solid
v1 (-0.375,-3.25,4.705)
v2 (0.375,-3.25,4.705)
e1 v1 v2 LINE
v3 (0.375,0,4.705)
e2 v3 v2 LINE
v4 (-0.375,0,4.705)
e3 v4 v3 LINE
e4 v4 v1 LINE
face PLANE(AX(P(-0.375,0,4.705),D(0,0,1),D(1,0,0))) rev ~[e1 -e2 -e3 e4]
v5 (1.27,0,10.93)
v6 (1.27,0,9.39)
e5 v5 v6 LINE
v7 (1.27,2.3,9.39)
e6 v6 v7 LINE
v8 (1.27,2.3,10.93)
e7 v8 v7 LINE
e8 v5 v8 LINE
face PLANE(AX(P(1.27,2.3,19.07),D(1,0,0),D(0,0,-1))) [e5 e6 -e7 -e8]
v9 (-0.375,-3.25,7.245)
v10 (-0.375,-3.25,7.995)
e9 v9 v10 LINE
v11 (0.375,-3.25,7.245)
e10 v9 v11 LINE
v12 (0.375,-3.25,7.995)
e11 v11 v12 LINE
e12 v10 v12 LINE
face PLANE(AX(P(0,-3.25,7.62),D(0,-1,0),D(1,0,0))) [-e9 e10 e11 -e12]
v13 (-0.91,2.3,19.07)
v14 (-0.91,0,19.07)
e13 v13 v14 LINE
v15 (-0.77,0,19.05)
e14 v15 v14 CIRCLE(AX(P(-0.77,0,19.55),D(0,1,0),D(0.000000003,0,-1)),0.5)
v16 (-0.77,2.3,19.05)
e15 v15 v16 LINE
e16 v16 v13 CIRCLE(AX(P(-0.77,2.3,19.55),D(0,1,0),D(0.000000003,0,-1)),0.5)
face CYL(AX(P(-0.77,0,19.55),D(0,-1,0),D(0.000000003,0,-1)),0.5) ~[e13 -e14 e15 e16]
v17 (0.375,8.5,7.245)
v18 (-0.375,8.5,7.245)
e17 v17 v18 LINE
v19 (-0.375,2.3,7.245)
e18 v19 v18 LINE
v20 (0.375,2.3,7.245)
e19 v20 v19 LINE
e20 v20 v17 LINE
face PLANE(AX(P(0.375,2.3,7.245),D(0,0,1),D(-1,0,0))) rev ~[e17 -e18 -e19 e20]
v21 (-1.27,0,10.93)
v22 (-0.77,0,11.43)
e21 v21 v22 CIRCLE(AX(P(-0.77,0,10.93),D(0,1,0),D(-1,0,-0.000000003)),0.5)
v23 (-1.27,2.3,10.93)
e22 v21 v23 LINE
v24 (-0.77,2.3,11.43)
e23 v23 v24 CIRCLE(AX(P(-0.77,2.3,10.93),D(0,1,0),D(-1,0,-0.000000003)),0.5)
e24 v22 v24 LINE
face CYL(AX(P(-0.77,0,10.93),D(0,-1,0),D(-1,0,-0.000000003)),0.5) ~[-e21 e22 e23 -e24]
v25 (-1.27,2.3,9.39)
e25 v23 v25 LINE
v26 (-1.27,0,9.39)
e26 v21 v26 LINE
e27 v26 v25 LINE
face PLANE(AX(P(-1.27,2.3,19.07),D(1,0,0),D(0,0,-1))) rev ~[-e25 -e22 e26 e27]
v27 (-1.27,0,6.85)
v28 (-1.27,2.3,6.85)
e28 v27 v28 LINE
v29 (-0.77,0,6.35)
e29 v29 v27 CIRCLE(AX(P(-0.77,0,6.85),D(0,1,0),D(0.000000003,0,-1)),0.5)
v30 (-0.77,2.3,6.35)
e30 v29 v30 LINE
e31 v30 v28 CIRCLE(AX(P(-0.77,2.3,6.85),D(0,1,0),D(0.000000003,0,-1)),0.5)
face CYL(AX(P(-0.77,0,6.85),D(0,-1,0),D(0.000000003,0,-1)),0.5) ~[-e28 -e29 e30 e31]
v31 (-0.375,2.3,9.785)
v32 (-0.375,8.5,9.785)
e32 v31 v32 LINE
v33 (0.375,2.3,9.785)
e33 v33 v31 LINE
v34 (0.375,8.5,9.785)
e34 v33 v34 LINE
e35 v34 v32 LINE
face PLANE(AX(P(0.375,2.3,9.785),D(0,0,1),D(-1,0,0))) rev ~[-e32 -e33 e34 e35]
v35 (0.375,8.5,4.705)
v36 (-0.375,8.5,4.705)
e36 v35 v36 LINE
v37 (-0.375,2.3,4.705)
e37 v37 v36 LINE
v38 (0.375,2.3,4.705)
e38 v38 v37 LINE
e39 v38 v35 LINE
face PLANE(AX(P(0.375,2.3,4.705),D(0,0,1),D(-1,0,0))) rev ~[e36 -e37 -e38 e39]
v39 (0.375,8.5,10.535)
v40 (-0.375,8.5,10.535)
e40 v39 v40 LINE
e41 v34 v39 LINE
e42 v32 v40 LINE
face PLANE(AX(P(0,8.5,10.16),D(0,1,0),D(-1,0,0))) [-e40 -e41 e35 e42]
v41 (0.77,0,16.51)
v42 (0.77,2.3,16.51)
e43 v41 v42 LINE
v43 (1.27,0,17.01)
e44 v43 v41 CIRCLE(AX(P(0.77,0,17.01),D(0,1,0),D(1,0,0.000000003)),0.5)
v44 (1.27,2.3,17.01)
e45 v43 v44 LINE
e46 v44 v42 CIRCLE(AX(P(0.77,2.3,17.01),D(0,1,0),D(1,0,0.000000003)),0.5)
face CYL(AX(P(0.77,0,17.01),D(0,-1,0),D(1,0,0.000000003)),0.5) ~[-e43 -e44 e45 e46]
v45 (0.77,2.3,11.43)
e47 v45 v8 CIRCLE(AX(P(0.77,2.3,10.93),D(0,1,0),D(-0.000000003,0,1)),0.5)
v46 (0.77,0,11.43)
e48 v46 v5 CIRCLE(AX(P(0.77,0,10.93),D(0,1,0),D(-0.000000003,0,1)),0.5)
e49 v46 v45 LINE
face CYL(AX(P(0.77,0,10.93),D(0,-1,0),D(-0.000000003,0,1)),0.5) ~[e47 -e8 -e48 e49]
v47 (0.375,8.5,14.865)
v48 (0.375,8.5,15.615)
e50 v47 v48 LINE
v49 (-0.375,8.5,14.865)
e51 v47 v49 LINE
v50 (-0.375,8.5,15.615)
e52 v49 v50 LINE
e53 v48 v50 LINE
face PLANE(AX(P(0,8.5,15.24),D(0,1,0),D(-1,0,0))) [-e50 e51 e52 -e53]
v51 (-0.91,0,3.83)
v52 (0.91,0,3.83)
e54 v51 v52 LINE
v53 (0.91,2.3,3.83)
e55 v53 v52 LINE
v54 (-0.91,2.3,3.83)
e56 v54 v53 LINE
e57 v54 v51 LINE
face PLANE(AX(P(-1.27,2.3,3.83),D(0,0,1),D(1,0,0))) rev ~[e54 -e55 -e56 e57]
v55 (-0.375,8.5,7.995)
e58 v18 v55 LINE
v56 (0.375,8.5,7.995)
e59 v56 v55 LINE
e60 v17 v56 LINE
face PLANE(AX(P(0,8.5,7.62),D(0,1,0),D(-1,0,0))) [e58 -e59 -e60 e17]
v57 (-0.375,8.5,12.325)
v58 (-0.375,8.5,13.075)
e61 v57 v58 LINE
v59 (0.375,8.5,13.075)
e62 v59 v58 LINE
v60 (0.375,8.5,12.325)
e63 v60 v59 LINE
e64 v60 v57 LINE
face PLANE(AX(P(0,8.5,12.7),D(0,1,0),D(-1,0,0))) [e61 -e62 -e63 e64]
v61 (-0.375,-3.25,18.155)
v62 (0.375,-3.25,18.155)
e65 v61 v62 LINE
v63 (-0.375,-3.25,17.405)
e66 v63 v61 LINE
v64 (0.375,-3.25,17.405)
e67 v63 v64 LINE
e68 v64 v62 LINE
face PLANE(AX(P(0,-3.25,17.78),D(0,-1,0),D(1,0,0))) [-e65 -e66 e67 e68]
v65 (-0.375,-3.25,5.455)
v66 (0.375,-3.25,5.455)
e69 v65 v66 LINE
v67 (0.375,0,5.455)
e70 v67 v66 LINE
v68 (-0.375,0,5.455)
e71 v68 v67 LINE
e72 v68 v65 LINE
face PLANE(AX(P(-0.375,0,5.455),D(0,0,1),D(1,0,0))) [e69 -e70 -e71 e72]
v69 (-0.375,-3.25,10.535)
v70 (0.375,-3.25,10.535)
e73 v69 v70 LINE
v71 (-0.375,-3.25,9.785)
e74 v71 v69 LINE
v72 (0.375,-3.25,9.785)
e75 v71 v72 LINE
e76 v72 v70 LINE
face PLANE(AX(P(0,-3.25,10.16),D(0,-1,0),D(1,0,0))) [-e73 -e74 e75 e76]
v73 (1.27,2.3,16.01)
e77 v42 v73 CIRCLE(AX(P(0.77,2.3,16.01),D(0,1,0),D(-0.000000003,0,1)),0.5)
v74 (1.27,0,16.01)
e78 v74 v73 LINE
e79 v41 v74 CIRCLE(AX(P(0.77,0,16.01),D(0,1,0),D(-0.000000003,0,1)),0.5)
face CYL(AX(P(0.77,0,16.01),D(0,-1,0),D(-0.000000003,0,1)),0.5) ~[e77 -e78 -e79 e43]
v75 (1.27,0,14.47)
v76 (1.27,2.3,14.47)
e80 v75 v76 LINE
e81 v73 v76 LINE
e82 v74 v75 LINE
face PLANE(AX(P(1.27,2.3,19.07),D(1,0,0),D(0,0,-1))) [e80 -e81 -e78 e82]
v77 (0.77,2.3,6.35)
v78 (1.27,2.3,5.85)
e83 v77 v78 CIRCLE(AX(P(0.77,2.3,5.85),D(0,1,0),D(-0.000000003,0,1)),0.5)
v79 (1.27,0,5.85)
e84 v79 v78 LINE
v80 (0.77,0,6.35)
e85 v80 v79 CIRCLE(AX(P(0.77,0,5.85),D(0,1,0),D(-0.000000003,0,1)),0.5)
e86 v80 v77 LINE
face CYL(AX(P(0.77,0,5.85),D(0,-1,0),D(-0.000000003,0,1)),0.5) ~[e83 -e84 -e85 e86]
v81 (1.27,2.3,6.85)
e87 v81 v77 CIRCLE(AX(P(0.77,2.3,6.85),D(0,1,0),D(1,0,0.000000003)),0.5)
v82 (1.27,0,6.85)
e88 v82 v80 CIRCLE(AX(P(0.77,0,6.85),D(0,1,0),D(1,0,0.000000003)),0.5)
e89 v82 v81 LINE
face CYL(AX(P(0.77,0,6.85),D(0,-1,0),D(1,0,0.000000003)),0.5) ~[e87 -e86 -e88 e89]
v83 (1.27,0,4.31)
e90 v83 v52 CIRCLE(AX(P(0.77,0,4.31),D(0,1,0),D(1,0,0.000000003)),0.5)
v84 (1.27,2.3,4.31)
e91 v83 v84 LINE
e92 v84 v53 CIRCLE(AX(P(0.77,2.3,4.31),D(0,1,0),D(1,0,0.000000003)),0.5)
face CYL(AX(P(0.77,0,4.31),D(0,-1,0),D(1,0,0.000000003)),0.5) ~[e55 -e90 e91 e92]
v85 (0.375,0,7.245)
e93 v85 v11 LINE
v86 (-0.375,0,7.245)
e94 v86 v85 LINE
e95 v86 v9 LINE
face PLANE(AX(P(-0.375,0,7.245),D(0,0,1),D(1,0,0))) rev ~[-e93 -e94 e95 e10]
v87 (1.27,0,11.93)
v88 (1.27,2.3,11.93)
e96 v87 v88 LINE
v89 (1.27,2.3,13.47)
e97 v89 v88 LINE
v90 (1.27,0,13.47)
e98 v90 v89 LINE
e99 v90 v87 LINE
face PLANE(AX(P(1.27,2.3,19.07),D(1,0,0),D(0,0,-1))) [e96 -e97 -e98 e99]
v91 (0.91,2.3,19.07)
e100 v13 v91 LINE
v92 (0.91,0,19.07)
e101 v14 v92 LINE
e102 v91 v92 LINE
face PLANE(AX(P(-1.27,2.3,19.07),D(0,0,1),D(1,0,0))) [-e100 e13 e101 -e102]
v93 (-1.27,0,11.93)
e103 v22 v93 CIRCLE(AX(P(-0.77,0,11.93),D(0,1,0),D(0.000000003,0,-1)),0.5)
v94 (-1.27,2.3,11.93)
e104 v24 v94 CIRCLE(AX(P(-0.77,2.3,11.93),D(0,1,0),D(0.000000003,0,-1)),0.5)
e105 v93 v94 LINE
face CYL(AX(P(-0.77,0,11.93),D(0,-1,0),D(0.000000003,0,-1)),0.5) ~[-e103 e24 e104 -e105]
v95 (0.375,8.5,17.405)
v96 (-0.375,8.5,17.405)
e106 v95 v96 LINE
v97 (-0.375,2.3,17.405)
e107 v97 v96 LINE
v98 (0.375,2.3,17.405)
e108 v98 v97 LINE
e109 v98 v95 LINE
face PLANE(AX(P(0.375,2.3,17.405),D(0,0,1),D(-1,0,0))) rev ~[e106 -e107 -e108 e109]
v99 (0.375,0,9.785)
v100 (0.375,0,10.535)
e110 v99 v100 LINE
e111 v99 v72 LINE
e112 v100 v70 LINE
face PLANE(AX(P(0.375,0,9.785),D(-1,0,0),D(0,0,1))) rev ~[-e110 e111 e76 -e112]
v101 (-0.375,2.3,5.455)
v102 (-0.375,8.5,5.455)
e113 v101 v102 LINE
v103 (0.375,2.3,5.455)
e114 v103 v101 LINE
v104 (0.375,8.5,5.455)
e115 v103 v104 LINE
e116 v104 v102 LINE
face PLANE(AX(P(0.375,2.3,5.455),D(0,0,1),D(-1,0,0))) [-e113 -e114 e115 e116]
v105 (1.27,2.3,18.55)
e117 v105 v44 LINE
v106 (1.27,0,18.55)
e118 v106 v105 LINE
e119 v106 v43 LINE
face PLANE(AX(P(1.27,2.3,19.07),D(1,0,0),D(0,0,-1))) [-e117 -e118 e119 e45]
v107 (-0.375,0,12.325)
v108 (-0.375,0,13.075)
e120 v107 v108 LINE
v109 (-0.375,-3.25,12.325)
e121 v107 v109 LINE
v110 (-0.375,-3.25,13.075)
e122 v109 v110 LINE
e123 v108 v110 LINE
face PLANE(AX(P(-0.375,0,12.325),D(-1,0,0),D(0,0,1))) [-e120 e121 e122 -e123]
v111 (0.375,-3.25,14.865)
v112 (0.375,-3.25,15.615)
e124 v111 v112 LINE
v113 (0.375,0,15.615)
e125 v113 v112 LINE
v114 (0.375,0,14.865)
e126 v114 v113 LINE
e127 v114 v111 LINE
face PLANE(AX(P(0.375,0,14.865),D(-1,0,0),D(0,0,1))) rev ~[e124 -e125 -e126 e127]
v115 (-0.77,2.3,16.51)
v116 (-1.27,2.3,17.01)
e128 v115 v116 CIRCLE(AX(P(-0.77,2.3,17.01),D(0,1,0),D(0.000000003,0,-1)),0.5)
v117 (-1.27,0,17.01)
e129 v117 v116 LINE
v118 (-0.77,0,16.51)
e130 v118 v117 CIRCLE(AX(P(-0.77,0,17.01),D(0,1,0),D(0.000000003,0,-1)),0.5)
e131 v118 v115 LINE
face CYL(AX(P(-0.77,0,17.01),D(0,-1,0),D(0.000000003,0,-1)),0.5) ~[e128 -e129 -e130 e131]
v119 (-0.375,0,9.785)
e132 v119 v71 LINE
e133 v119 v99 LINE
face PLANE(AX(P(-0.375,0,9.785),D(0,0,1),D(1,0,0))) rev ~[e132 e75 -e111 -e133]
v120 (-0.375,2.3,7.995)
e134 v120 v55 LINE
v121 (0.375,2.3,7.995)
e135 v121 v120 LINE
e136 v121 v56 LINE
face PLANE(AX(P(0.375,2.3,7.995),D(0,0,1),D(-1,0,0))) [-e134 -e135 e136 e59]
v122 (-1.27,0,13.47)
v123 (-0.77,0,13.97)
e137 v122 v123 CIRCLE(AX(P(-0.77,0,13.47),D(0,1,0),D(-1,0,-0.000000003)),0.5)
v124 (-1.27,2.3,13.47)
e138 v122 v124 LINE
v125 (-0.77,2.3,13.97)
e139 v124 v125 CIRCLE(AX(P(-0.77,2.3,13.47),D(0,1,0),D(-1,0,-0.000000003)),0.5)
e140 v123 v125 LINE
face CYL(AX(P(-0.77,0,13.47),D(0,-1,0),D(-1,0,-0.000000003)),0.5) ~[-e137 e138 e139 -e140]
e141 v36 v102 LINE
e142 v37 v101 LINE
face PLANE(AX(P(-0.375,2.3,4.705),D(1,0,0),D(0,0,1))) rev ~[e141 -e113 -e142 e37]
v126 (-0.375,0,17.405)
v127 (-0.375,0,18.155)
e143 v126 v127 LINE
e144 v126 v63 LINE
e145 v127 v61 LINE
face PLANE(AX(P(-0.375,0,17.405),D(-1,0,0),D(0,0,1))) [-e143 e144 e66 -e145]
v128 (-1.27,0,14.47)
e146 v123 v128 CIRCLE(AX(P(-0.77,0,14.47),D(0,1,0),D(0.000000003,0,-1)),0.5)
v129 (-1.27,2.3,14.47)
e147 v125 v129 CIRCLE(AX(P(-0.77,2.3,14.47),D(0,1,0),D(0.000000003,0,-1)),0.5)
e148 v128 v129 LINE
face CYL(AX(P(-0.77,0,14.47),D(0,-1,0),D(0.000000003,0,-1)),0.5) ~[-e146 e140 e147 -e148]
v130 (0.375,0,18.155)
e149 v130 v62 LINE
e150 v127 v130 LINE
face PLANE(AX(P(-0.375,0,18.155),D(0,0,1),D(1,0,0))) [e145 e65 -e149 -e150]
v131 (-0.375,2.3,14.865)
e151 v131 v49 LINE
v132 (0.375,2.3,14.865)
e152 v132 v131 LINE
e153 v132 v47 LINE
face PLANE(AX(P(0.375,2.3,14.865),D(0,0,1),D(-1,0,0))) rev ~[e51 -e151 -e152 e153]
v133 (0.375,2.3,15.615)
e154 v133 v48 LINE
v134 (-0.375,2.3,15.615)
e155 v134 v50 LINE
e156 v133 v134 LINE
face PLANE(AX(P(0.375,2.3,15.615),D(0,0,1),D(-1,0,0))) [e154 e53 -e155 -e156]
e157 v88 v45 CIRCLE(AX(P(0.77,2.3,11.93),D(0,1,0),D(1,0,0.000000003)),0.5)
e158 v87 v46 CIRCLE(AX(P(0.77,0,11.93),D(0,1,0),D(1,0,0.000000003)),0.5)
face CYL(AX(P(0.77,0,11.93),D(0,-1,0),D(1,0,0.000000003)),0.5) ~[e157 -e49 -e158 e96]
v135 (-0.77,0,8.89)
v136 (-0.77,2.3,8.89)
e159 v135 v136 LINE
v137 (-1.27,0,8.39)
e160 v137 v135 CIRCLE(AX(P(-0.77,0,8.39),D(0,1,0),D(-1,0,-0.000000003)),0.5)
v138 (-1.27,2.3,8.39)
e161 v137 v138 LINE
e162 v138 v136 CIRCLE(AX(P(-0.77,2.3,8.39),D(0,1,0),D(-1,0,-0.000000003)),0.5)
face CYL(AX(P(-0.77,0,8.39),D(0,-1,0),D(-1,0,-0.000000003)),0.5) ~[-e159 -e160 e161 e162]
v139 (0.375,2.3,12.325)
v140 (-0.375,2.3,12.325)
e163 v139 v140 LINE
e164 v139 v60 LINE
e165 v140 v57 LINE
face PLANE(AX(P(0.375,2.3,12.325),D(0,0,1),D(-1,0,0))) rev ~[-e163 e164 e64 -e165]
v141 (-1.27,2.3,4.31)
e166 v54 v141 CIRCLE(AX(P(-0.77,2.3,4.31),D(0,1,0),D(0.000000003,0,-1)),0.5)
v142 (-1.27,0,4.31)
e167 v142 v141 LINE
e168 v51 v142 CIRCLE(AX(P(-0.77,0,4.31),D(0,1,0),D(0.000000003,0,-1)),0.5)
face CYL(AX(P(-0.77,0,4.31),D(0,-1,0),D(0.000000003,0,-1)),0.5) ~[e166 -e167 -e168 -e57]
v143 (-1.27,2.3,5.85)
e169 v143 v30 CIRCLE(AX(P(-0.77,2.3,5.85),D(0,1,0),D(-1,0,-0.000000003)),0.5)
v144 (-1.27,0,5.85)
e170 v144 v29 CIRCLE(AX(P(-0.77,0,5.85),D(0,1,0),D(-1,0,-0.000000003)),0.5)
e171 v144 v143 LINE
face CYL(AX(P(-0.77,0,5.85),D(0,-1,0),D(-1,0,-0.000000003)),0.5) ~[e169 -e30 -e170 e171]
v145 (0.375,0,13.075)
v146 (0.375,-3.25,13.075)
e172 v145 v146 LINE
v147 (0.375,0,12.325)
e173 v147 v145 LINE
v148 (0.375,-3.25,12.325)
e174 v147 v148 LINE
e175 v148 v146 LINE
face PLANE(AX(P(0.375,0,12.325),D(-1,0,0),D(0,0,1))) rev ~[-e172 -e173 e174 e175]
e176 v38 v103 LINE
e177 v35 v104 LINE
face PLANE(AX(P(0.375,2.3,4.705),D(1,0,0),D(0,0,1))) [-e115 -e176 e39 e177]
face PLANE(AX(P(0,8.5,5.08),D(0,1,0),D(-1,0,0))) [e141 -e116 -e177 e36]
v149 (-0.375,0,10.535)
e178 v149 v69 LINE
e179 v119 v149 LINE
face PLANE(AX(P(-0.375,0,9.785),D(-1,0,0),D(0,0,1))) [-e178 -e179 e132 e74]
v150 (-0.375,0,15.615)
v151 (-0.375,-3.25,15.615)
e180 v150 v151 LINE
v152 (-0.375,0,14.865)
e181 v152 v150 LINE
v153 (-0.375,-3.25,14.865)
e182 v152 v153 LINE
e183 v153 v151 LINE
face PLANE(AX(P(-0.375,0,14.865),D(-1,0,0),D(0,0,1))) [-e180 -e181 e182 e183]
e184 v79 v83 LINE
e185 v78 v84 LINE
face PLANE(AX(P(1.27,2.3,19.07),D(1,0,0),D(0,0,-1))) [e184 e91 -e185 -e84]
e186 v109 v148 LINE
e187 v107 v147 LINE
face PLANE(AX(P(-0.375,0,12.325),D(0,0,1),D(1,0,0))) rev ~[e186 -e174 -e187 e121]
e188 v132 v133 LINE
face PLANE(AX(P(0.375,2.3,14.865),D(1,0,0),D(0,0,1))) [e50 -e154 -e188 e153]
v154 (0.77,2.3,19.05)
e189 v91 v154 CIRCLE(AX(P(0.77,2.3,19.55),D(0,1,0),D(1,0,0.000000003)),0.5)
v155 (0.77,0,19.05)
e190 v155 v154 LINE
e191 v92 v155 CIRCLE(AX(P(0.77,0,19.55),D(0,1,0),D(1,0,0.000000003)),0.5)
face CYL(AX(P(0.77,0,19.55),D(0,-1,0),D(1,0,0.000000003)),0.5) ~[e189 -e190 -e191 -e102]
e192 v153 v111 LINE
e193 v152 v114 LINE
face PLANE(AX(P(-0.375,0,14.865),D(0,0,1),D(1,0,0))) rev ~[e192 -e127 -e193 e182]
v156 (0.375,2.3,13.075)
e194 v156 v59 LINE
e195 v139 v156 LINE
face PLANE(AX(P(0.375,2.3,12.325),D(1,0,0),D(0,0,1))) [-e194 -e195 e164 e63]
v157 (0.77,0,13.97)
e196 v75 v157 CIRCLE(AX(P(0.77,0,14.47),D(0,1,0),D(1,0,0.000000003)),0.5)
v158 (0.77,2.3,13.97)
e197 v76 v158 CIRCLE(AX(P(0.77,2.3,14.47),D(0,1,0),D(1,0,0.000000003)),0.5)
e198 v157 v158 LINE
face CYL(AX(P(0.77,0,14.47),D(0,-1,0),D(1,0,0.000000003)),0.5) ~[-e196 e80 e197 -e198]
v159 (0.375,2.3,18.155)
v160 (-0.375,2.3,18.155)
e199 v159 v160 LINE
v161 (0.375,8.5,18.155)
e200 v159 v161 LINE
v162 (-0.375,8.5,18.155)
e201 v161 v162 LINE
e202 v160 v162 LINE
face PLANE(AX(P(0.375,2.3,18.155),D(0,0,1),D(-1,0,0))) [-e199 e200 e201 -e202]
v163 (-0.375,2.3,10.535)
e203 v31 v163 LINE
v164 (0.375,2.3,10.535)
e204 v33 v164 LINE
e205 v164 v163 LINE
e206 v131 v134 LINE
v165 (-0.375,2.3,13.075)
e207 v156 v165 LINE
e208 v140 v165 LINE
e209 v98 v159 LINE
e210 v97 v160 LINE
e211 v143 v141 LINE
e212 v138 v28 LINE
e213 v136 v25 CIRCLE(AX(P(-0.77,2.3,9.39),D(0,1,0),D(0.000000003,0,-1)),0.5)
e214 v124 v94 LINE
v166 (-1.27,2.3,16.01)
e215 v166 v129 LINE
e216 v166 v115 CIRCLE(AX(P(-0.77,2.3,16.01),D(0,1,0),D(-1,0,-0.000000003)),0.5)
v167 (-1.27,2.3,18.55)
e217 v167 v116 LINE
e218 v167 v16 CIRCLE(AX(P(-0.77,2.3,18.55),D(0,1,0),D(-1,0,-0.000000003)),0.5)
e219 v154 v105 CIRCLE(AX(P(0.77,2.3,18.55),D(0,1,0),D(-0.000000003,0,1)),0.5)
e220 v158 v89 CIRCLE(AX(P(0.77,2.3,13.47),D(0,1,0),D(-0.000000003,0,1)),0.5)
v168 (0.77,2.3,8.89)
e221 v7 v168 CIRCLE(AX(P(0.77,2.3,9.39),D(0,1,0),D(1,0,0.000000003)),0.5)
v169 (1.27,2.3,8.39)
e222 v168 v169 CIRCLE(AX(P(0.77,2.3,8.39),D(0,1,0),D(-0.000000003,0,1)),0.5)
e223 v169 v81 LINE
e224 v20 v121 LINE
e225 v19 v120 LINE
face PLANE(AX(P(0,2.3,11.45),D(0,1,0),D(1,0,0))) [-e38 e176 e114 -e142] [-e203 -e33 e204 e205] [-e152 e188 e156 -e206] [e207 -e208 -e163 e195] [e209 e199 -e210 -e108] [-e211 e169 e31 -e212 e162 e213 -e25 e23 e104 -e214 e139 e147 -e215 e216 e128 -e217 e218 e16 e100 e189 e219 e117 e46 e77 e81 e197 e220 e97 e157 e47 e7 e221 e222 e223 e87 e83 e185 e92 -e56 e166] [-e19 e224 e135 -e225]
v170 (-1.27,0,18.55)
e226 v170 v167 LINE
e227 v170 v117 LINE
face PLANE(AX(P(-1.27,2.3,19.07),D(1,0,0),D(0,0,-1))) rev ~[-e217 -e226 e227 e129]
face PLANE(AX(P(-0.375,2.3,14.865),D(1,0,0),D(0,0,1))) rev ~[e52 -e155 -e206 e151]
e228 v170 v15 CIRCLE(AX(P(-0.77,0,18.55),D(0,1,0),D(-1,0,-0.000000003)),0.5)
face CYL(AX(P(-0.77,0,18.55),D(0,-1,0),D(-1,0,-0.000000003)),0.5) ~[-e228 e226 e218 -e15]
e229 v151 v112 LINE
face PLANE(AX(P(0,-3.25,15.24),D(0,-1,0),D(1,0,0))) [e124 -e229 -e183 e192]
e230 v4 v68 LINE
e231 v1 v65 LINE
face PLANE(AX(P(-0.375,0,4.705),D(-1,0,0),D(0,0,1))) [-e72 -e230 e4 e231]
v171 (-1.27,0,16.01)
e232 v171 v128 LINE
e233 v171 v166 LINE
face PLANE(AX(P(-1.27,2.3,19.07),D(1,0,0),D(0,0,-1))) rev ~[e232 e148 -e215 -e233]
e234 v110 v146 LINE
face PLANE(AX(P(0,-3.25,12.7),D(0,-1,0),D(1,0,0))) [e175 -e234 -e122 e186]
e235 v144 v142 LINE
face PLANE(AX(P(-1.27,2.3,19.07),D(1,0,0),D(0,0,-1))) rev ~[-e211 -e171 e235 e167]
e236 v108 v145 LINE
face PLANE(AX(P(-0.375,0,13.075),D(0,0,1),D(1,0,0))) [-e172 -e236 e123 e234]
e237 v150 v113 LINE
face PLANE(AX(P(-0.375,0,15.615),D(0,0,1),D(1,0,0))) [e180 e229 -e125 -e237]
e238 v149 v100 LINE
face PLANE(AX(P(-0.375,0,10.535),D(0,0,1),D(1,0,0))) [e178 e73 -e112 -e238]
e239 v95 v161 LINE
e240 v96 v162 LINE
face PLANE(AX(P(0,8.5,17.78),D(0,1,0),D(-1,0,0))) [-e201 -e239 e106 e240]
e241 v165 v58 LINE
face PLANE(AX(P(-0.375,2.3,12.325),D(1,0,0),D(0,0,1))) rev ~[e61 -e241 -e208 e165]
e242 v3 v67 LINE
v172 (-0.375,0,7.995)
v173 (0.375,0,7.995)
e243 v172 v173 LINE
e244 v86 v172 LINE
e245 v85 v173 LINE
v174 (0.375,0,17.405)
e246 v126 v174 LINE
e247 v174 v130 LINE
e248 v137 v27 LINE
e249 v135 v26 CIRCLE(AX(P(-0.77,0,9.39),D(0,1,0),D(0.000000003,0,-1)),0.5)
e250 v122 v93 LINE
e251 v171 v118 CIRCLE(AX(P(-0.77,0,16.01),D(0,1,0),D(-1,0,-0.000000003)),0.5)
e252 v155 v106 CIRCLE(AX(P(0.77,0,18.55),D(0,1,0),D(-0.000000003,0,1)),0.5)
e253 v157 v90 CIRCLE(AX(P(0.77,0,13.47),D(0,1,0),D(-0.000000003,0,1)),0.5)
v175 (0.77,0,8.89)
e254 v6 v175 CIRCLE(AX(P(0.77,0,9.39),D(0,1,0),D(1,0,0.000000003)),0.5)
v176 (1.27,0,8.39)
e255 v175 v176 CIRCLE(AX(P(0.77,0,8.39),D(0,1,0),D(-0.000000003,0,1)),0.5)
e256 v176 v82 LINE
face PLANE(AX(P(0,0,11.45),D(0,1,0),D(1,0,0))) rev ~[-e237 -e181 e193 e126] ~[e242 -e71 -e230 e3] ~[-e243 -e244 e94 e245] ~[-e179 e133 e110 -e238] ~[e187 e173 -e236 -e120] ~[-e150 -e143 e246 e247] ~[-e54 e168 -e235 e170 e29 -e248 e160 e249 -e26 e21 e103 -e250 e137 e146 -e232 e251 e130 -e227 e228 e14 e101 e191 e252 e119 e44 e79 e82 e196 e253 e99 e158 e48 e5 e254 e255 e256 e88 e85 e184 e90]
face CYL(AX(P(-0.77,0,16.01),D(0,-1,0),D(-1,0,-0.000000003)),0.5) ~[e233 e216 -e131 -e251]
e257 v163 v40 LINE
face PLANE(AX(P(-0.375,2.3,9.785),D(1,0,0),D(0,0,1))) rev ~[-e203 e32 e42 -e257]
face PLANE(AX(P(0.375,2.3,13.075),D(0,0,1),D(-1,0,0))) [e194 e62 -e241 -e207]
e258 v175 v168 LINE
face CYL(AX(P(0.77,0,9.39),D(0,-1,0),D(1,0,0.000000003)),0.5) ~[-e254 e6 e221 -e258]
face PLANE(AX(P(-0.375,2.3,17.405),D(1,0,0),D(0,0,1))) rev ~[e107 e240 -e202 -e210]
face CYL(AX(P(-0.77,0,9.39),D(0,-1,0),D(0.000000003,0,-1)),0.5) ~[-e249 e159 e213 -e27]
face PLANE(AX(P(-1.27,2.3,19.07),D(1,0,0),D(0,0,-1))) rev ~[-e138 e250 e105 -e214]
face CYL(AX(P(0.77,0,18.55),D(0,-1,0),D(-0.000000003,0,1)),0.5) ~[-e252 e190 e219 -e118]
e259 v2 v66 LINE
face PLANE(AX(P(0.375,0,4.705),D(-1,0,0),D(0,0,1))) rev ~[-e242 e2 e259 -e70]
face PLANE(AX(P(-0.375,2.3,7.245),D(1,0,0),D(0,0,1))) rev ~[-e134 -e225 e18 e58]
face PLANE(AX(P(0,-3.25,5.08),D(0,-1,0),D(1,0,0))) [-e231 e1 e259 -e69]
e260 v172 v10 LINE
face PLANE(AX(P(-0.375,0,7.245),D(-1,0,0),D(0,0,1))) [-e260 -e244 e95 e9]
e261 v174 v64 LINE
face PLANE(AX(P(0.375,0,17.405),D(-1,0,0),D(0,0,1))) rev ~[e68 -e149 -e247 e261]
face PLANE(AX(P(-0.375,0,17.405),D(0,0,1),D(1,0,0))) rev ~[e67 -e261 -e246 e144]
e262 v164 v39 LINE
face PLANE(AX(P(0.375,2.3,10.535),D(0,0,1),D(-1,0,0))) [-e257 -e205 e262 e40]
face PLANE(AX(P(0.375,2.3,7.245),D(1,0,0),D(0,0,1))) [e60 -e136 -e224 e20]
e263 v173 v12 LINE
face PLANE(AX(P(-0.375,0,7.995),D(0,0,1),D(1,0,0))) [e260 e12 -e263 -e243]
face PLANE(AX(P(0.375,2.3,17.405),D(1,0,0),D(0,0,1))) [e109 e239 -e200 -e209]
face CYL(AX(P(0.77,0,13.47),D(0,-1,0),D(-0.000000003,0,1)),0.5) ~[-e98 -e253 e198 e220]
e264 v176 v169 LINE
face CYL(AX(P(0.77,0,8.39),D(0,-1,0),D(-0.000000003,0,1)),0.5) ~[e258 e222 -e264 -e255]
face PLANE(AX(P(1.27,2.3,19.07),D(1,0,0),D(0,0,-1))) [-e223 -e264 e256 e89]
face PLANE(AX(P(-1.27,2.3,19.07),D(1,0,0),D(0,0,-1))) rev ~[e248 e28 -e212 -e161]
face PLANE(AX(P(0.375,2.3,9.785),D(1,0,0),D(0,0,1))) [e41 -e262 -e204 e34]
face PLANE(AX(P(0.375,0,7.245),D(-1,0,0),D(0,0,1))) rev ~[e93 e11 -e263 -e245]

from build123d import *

# Parameters (mm, degrees)
CROQUIS1_W               = 2.54
CROQUIS1_H               = 15.24
SALIENTE_EXTRUIR1_DEPTH  = 2.3
CORTAR_EXTRUIR4_DEPTH    = 2.3
CORTAR_EXTRUIR5_DEPTH    = 2.3
CORTAR_EXTRUIR6_DEPTH    = 2.3
CORTAR_EXTRUIR7_DEPTH    = 2.3
CORTAR_EXTRUIR8_DEPTH    = 2.3
CORTAR_EXTRUIR9_DEPTH    = 2.3
CORTAR_EXTRUIR10_DEPTH   = 2.3
CORTAR_EXTRUIR13_DEPTH   = 2.3
CORTAR_EXTRUIR14_DEPTH   = 2.3
CORTAR_EXTRUIR15_DEPTH   = 2.3
CORTAR_EXTRUIR16_DEPTH   = 2.3
CORTAR_EXTRUIR17_DEPTH   = 2.3
CORTAR_EXTRUIR18_DEPTH   = 2.3
CORTAR_EXTRUIR19_DEPTH   = 2.3
CROQUIS27_W              = 0.75
CROQUIS27_H              = 0.75
SALIENTE_EXTRUIR5_DEPTH  = 6.2
CROQUIS28_W              = 0.75
CROQUIS28_H              = 0.75
SALIENTE_EXTRUIR6_DEPTH  = 6.2
CROQUIS29_W              = 0.75
CROQUIS29_H              = 0.75
SALIENTE_EXTRUIR7_DEPTH  = 6.2
CROQUIS30_W              = 0.75
CROQUIS30_H              = 0.75
SALIENTE_EXTRUIR8_DEPTH  = 6.2
CROQUIS31_W              = 0.75
CROQUIS31_H              = 0.75
SALIENTE_EXTRUIR9_DEPTH  = 6.2
CROQUIS32_W              = 0.75
CROQUIS32_H              = 0.75
SALIENTE_EXTRUIR10_DEPTH = 6.2
CROQUIS38_W              = 0.75
CROQUIS38_H              = 0.75
SALIENTE_EXTRUIR16_DEPTH = 3.25
CROQUIS39_W              = 0.75
CROQUIS39_H              = 0.75
SALIENTE_EXTRUIR17_DEPTH = 3.25
CROQUIS40_W              = 0.75
CROQUIS40_H              = 0.75
SALIENTE_EXTRUIR18_DEPTH = 3.25
CROQUIS41_W              = 0.75
CROQUIS41_H              = 0.75
SALIENTE_EXTRUIR19_DEPTH = 3.25
CROQUIS42_W              = 0.75
CROQUIS42_H              = 0.75
SALIENTE_EXTRUIR20_DEPTH = 3.25
CROQUIS43_W              = 0.75
CROQUIS43_H              = 0.75
SALIENTE_EXTRUIR21_DEPTH = 3.25


with BuildPart() as part:
    # Croquis1 → Saliente-Extruir1 (new body)
    with BuildSketch(Plane(origin=(0, 2.3, 0), x_dir=(1, 0, 0), z_dir=(0, 1, 0))):
        with Locations((0, -11.45)):
            Rectangle(CROQUIS1_W, CROQUIS1_H)
    extrude(amount=-SALIENTE_EXTRUIR1_DEPTH)

    # Croquis5 → Cortar-Extruir4 (cut)
    with BuildSketch(Plane.XZ):
        with BuildLine():
            Line((1.27, 18.55), (1.27, 19.55))
            ThreePointArc((1.27, 19.55), (1.123553391, 19.196446609), (0.77, 19.05))
            ThreePointArc((0.77, 19.05), (1.123553391, 18.903553391), (1.27, 18.55))
        make_face()
    extrude(amount=-CORTAR_EXTRUIR4_DEPTH, mode=Mode.SUBTRACT)

    # Croquis6 → Cortar-Extruir5 (cut)
    with BuildSketch(Plane.XZ):
        with BuildLine():
            Line((1.27, 16.01), (1.27, 17.01))
            ThreePointArc((1.27, 17.01), (1.123553391, 16.656446609), (0.77, 16.51))
            ThreePointArc((0.77, 16.51), (1.123553391, 16.363553391), (1.27, 16.01))
        make_face()
    extrude(amount=-CORTAR_EXTRUIR5_DEPTH, mode=Mode.SUBTRACT)

    # Croquis7 → Cortar-Extruir6 (cut)
    with BuildSketch(Plane.XZ):
        with BuildLine():
            Line((1.27, 13.47), (1.27, 14.47))
            ThreePointArc((1.27, 14.47), (1.123553391, 14.116446609), (0.77, 13.97))
            ThreePointArc((0.77, 13.97), (1.123553391, 13.823553391), (1.27, 13.47))
        make_face()
    extrude(amount=-CORTAR_EXTRUIR6_DEPTH, mode=Mode.SUBTRACT)

    # Croquis8 → Cortar-Extruir7 (cut)
    with BuildSketch(Plane.XZ):
        with BuildLine():
            Line((1.27, 10.93), (1.27, 11.93))
            ThreePointArc((1.27, 11.93), (1.123553391, 11.576446609), (0.77, 11.43))
            ThreePointArc((0.77, 11.43), (1.123553391, 11.283553391), (1.27, 10.93))
        make_face()
    extrude(amount=-CORTAR_EXTRUIR7_DEPTH, mode=Mode.SUBTRACT)

    # Croquis9 → Cortar-Extruir8 (cut)
    with BuildSketch(Plane.XZ):
        with BuildLine():
            Line((1.27, 8.39), (1.27, 9.39))
            ThreePointArc((1.27, 9.39), (1.123553391, 9.036446609), (0.77, 8.89))
            ThreePointArc((0.77, 8.89), (1.123553391, 8.743553391), (1.27, 8.39))
        make_face()
    extrude(amount=-CORTAR_EXTRUIR8_DEPTH, mode=Mode.SUBTRACT)

    # Croquis10 → Cortar-Extruir9 (cut)
    with BuildSketch(Plane.XZ):
        with BuildLine():
            Line((1.27, 5.85), (1.27, 6.85))
            ThreePointArc((1.27, 6.85), (1.123553391, 6.496446609), (0.77, 6.35))
            ThreePointArc((0.77, 6.35), (1.123553391, 6.203553391), (1.27, 5.85))
        make_face()
    extrude(amount=-CORTAR_EXTRUIR9_DEPTH, mode=Mode.SUBTRACT)

    # Croquis11 → Cortar-Extruir10 (cut)
    with BuildSketch(Plane.XZ):
        with BuildLine():
            Line((1.27, 3.31), (1.27, 4.31))
            ThreePointArc((1.27, 4.31), (1.123553391, 3.956446609), (0.77, 3.81))
            ThreePointArc((0.77, 3.81), (1.123553391, 3.663553391), (1.27, 3.31))
        make_face()
    extrude(amount=-CORTAR_EXTRUIR10_DEPTH, mode=Mode.SUBTRACT)

    # Croquis14 → Cortar-Extruir13 (cut)
    with BuildSketch(Plane.XZ):
        with BuildLine():
            Line((-1.27, 4.31), (-1.27, 3.31))
            ThreePointArc((-1.27, 3.31), (-1.123553391, 3.663553391), (-0.77, 3.81))
            ThreePointArc((-0.77, 3.81), (-1.123553391, 3.956446609), (-1.27, 4.31))
        make_face()
    extrude(amount=-CORTAR_EXTRUIR13_DEPTH, mode=Mode.SUBTRACT)

    # Croquis15 → Cortar-Extruir14 (cut)
    with BuildSketch(Plane.XZ):
        with BuildLine():
            Line((-1.27, 6.85), (-1.27, 5.85))
            ThreePointArc((-1.27, 5.85), (-1.123553391, 6.203553391), (-0.77, 6.35))
            ThreePointArc((-0.77, 6.35), (-1.123553391, 6.496446609), (-1.27, 6.85))
        make_face()
    extrude(amount=-CORTAR_EXTRUIR14_DEPTH, mode=Mode.SUBTRACT)

    # Croquis16 → Cortar-Extruir15 (cut)
    with BuildSketch(Plane.XZ):
        with BuildLine():
            Line((-1.27, 9.39), (-1.27, 8.39))
            ThreePointArc((-1.27, 8.39), (-1.123553391, 8.743553391), (-0.77, 8.89))
            ThreePointArc((-0.77, 8.89), (-1.123553391, 9.036446609), (-1.27, 9.39))
        make_face()
    extrude(amount=-CORTAR_EXTRUIR15_DEPTH, mode=Mode.SUBTRACT)

    # Croquis17 → Cortar-Extruir16 (cut)
    with BuildSketch(Plane.XZ):
        with BuildLine():
            Line((-1.27, 11.93), (-1.27, 10.93))
            ThreePointArc((-1.27, 10.93), (-1.123553391, 11.283553391), (-0.77, 11.43))
            ThreePointArc((-0.77, 11.43), (-1.123553391, 11.576446609), (-1.27, 11.93))
        make_face()
    extrude(amount=-CORTAR_EXTRUIR16_DEPTH, mode=Mode.SUBTRACT)

    # Croquis18 → Cortar-Extruir17 (cut)
    with BuildSketch(Plane.XZ):
        with BuildLine():
            Line((-1.27, 14.47), (-1.27, 13.47))
            ThreePointArc((-1.27, 13.47), (-1.123553391, 13.823553391), (-0.77, 13.97))
            ThreePointArc((-0.77, 13.97), (-1.123553391, 14.116446609), (-1.27, 14.47))
        make_face()
    extrude(amount=-CORTAR_EXTRUIR17_DEPTH, mode=Mode.SUBTRACT)

    # Croquis19 → Cortar-Extruir18 (cut)
    with BuildSketch(Plane.XZ):
        with BuildLine():
            Line((-1.27, 17.01), (-1.27, 16.01))
            ThreePointArc((-1.27, 16.01), (-1.123553391, 16.363553391), (-0.77, 16.51))
            ThreePointArc((-0.77, 16.51), (-1.123553391, 16.656446609), (-1.27, 17.01))
        make_face()
    extrude(amount=-CORTAR_EXTRUIR18_DEPTH, mode=Mode.SUBTRACT)

    # Croquis20 → Cortar-Extruir19 (cut)
    with BuildSketch(Plane.XZ):
        with BuildLine():
            Line((-1.27, 19.55), (-1.27, 18.55))
            ThreePointArc((-1.27, 18.55), (-1.123553391, 18.903553391), (-0.77, 19.05))
            ThreePointArc((-0.77, 19.05), (-1.123553391, 19.196446609), (-1.27, 19.55))
        make_face()
    extrude(amount=-CORTAR_EXTRUIR19_DEPTH, mode=Mode.SUBTRACT)

    # Croquis27 → Saliente-Extruir5 (add)
    with BuildSketch(Plane(origin=(0, 2.3, 0), x_dir=(-1, 0, 0), z_dir=(0, 1, 0))):
        with Locations((0, 5.08)):
            Rectangle(CROQUIS27_W, CROQUIS27_H)
    extrude(amount=SALIENTE_EXTRUIR5_DEPTH)

    # Croquis28 → Saliente-Extruir6 (add)
    with BuildSketch(Plane(origin=(0, 2.3, 0), x_dir=(-1, 0, 0), z_dir=(0, 1, 0))):
        with Locations((0, 7.62)):
            Rectangle(CROQUIS28_W, CROQUIS28_H)
    extrude(amount=SALIENTE_EXTRUIR6_DEPTH)

    # Croquis29 → Saliente-Extruir7 (add)
    with BuildSketch(Plane(origin=(0, 2.3, 0), x_dir=(-1, 0, 0), z_dir=(0, 1, 0))):
        with Locations((0, 10.16)):
            Rectangle(CROQUIS29_W, CROQUIS29_H)
    extrude(amount=SALIENTE_EXTRUIR7_DEPTH)

    # Croquis30 → Saliente-Extruir8 (add)
    with BuildSketch(Plane(origin=(0, 2.3, 0), x_dir=(-1, 0, 0), z_dir=(0, 1, 0))):
        with Locations((0, 12.7)):
            Rectangle(CROQUIS30_W, CROQUIS30_H)
    extrude(amount=SALIENTE_EXTRUIR8_DEPTH)

    # Croquis31 → Saliente-Extruir9 (add)
    with BuildSketch(Plane(origin=(0, 2.3, 0), x_dir=(-1, 0, 0), z_dir=(0, 1, 0))):
        with Locations((0, 15.24)):
            Rectangle(CROQUIS31_W, CROQUIS31_H)
    extrude(amount=SALIENTE_EXTRUIR9_DEPTH)

    # Croquis32 → Saliente-Extruir10 (add)
    with BuildSketch(Plane(origin=(0, 2.3, 0), x_dir=(-1, 0, 0), z_dir=(0, 1, 0))):
        with Locations((0, 17.78)):
            Rectangle(CROQUIS32_W, CROQUIS32_H)
    extrude(amount=SALIENTE_EXTRUIR10_DEPTH)

    # Croquis38 → Saliente-Extruir16 (add)
    with BuildSketch(Plane.XZ):
        with Locations((0, 5.08)):
            Rectangle(CROQUIS38_W, CROQUIS38_H)
    extrude(amount=SALIENTE_EXTRUIR16_DEPTH)

    # Croquis39 → Saliente-Extruir17 (add)
    with BuildSketch(Plane.XZ):
        with Locations((0, 7.62)):
            Rectangle(CROQUIS39_W, CROQUIS39_H)
    extrude(amount=SALIENTE_EXTRUIR17_DEPTH)

    # Croquis40 → Saliente-Extruir18 (add)
    with BuildSketch(Plane.XZ):
        with Locations((0, 10.16)):
            Rectangle(CROQUIS40_W, CROQUIS40_H)
    extrude(amount=SALIENTE_EXTRUIR18_DEPTH)

    # Croquis41 → Saliente-Extruir19 (add)
    with BuildSketch(Plane.XZ):
        with Locations((0, 12.7)):
            Rectangle(CROQUIS41_W, CROQUIS41_H)
    extrude(amount=SALIENTE_EXTRUIR19_DEPTH)

    # Croquis42 → Saliente-Extruir20 (add)
    with BuildSketch(Plane.XZ):
        with Locations((0, 15.24)):
            Rectangle(CROQUIS42_W, CROQUIS42_H)
    extrude(amount=SALIENTE_EXTRUIR20_DEPTH)

    # Croquis43 → Saliente-Extruir21 (add)
    with BuildSketch(Plane.XZ):
        with Locations((0, 17.78)):
            Rectangle(CROQUIS43_W, CROQUIS43_H)
    extrude(amount=SALIENTE_EXTRUIR21_DEPTH)


solid = part.part
